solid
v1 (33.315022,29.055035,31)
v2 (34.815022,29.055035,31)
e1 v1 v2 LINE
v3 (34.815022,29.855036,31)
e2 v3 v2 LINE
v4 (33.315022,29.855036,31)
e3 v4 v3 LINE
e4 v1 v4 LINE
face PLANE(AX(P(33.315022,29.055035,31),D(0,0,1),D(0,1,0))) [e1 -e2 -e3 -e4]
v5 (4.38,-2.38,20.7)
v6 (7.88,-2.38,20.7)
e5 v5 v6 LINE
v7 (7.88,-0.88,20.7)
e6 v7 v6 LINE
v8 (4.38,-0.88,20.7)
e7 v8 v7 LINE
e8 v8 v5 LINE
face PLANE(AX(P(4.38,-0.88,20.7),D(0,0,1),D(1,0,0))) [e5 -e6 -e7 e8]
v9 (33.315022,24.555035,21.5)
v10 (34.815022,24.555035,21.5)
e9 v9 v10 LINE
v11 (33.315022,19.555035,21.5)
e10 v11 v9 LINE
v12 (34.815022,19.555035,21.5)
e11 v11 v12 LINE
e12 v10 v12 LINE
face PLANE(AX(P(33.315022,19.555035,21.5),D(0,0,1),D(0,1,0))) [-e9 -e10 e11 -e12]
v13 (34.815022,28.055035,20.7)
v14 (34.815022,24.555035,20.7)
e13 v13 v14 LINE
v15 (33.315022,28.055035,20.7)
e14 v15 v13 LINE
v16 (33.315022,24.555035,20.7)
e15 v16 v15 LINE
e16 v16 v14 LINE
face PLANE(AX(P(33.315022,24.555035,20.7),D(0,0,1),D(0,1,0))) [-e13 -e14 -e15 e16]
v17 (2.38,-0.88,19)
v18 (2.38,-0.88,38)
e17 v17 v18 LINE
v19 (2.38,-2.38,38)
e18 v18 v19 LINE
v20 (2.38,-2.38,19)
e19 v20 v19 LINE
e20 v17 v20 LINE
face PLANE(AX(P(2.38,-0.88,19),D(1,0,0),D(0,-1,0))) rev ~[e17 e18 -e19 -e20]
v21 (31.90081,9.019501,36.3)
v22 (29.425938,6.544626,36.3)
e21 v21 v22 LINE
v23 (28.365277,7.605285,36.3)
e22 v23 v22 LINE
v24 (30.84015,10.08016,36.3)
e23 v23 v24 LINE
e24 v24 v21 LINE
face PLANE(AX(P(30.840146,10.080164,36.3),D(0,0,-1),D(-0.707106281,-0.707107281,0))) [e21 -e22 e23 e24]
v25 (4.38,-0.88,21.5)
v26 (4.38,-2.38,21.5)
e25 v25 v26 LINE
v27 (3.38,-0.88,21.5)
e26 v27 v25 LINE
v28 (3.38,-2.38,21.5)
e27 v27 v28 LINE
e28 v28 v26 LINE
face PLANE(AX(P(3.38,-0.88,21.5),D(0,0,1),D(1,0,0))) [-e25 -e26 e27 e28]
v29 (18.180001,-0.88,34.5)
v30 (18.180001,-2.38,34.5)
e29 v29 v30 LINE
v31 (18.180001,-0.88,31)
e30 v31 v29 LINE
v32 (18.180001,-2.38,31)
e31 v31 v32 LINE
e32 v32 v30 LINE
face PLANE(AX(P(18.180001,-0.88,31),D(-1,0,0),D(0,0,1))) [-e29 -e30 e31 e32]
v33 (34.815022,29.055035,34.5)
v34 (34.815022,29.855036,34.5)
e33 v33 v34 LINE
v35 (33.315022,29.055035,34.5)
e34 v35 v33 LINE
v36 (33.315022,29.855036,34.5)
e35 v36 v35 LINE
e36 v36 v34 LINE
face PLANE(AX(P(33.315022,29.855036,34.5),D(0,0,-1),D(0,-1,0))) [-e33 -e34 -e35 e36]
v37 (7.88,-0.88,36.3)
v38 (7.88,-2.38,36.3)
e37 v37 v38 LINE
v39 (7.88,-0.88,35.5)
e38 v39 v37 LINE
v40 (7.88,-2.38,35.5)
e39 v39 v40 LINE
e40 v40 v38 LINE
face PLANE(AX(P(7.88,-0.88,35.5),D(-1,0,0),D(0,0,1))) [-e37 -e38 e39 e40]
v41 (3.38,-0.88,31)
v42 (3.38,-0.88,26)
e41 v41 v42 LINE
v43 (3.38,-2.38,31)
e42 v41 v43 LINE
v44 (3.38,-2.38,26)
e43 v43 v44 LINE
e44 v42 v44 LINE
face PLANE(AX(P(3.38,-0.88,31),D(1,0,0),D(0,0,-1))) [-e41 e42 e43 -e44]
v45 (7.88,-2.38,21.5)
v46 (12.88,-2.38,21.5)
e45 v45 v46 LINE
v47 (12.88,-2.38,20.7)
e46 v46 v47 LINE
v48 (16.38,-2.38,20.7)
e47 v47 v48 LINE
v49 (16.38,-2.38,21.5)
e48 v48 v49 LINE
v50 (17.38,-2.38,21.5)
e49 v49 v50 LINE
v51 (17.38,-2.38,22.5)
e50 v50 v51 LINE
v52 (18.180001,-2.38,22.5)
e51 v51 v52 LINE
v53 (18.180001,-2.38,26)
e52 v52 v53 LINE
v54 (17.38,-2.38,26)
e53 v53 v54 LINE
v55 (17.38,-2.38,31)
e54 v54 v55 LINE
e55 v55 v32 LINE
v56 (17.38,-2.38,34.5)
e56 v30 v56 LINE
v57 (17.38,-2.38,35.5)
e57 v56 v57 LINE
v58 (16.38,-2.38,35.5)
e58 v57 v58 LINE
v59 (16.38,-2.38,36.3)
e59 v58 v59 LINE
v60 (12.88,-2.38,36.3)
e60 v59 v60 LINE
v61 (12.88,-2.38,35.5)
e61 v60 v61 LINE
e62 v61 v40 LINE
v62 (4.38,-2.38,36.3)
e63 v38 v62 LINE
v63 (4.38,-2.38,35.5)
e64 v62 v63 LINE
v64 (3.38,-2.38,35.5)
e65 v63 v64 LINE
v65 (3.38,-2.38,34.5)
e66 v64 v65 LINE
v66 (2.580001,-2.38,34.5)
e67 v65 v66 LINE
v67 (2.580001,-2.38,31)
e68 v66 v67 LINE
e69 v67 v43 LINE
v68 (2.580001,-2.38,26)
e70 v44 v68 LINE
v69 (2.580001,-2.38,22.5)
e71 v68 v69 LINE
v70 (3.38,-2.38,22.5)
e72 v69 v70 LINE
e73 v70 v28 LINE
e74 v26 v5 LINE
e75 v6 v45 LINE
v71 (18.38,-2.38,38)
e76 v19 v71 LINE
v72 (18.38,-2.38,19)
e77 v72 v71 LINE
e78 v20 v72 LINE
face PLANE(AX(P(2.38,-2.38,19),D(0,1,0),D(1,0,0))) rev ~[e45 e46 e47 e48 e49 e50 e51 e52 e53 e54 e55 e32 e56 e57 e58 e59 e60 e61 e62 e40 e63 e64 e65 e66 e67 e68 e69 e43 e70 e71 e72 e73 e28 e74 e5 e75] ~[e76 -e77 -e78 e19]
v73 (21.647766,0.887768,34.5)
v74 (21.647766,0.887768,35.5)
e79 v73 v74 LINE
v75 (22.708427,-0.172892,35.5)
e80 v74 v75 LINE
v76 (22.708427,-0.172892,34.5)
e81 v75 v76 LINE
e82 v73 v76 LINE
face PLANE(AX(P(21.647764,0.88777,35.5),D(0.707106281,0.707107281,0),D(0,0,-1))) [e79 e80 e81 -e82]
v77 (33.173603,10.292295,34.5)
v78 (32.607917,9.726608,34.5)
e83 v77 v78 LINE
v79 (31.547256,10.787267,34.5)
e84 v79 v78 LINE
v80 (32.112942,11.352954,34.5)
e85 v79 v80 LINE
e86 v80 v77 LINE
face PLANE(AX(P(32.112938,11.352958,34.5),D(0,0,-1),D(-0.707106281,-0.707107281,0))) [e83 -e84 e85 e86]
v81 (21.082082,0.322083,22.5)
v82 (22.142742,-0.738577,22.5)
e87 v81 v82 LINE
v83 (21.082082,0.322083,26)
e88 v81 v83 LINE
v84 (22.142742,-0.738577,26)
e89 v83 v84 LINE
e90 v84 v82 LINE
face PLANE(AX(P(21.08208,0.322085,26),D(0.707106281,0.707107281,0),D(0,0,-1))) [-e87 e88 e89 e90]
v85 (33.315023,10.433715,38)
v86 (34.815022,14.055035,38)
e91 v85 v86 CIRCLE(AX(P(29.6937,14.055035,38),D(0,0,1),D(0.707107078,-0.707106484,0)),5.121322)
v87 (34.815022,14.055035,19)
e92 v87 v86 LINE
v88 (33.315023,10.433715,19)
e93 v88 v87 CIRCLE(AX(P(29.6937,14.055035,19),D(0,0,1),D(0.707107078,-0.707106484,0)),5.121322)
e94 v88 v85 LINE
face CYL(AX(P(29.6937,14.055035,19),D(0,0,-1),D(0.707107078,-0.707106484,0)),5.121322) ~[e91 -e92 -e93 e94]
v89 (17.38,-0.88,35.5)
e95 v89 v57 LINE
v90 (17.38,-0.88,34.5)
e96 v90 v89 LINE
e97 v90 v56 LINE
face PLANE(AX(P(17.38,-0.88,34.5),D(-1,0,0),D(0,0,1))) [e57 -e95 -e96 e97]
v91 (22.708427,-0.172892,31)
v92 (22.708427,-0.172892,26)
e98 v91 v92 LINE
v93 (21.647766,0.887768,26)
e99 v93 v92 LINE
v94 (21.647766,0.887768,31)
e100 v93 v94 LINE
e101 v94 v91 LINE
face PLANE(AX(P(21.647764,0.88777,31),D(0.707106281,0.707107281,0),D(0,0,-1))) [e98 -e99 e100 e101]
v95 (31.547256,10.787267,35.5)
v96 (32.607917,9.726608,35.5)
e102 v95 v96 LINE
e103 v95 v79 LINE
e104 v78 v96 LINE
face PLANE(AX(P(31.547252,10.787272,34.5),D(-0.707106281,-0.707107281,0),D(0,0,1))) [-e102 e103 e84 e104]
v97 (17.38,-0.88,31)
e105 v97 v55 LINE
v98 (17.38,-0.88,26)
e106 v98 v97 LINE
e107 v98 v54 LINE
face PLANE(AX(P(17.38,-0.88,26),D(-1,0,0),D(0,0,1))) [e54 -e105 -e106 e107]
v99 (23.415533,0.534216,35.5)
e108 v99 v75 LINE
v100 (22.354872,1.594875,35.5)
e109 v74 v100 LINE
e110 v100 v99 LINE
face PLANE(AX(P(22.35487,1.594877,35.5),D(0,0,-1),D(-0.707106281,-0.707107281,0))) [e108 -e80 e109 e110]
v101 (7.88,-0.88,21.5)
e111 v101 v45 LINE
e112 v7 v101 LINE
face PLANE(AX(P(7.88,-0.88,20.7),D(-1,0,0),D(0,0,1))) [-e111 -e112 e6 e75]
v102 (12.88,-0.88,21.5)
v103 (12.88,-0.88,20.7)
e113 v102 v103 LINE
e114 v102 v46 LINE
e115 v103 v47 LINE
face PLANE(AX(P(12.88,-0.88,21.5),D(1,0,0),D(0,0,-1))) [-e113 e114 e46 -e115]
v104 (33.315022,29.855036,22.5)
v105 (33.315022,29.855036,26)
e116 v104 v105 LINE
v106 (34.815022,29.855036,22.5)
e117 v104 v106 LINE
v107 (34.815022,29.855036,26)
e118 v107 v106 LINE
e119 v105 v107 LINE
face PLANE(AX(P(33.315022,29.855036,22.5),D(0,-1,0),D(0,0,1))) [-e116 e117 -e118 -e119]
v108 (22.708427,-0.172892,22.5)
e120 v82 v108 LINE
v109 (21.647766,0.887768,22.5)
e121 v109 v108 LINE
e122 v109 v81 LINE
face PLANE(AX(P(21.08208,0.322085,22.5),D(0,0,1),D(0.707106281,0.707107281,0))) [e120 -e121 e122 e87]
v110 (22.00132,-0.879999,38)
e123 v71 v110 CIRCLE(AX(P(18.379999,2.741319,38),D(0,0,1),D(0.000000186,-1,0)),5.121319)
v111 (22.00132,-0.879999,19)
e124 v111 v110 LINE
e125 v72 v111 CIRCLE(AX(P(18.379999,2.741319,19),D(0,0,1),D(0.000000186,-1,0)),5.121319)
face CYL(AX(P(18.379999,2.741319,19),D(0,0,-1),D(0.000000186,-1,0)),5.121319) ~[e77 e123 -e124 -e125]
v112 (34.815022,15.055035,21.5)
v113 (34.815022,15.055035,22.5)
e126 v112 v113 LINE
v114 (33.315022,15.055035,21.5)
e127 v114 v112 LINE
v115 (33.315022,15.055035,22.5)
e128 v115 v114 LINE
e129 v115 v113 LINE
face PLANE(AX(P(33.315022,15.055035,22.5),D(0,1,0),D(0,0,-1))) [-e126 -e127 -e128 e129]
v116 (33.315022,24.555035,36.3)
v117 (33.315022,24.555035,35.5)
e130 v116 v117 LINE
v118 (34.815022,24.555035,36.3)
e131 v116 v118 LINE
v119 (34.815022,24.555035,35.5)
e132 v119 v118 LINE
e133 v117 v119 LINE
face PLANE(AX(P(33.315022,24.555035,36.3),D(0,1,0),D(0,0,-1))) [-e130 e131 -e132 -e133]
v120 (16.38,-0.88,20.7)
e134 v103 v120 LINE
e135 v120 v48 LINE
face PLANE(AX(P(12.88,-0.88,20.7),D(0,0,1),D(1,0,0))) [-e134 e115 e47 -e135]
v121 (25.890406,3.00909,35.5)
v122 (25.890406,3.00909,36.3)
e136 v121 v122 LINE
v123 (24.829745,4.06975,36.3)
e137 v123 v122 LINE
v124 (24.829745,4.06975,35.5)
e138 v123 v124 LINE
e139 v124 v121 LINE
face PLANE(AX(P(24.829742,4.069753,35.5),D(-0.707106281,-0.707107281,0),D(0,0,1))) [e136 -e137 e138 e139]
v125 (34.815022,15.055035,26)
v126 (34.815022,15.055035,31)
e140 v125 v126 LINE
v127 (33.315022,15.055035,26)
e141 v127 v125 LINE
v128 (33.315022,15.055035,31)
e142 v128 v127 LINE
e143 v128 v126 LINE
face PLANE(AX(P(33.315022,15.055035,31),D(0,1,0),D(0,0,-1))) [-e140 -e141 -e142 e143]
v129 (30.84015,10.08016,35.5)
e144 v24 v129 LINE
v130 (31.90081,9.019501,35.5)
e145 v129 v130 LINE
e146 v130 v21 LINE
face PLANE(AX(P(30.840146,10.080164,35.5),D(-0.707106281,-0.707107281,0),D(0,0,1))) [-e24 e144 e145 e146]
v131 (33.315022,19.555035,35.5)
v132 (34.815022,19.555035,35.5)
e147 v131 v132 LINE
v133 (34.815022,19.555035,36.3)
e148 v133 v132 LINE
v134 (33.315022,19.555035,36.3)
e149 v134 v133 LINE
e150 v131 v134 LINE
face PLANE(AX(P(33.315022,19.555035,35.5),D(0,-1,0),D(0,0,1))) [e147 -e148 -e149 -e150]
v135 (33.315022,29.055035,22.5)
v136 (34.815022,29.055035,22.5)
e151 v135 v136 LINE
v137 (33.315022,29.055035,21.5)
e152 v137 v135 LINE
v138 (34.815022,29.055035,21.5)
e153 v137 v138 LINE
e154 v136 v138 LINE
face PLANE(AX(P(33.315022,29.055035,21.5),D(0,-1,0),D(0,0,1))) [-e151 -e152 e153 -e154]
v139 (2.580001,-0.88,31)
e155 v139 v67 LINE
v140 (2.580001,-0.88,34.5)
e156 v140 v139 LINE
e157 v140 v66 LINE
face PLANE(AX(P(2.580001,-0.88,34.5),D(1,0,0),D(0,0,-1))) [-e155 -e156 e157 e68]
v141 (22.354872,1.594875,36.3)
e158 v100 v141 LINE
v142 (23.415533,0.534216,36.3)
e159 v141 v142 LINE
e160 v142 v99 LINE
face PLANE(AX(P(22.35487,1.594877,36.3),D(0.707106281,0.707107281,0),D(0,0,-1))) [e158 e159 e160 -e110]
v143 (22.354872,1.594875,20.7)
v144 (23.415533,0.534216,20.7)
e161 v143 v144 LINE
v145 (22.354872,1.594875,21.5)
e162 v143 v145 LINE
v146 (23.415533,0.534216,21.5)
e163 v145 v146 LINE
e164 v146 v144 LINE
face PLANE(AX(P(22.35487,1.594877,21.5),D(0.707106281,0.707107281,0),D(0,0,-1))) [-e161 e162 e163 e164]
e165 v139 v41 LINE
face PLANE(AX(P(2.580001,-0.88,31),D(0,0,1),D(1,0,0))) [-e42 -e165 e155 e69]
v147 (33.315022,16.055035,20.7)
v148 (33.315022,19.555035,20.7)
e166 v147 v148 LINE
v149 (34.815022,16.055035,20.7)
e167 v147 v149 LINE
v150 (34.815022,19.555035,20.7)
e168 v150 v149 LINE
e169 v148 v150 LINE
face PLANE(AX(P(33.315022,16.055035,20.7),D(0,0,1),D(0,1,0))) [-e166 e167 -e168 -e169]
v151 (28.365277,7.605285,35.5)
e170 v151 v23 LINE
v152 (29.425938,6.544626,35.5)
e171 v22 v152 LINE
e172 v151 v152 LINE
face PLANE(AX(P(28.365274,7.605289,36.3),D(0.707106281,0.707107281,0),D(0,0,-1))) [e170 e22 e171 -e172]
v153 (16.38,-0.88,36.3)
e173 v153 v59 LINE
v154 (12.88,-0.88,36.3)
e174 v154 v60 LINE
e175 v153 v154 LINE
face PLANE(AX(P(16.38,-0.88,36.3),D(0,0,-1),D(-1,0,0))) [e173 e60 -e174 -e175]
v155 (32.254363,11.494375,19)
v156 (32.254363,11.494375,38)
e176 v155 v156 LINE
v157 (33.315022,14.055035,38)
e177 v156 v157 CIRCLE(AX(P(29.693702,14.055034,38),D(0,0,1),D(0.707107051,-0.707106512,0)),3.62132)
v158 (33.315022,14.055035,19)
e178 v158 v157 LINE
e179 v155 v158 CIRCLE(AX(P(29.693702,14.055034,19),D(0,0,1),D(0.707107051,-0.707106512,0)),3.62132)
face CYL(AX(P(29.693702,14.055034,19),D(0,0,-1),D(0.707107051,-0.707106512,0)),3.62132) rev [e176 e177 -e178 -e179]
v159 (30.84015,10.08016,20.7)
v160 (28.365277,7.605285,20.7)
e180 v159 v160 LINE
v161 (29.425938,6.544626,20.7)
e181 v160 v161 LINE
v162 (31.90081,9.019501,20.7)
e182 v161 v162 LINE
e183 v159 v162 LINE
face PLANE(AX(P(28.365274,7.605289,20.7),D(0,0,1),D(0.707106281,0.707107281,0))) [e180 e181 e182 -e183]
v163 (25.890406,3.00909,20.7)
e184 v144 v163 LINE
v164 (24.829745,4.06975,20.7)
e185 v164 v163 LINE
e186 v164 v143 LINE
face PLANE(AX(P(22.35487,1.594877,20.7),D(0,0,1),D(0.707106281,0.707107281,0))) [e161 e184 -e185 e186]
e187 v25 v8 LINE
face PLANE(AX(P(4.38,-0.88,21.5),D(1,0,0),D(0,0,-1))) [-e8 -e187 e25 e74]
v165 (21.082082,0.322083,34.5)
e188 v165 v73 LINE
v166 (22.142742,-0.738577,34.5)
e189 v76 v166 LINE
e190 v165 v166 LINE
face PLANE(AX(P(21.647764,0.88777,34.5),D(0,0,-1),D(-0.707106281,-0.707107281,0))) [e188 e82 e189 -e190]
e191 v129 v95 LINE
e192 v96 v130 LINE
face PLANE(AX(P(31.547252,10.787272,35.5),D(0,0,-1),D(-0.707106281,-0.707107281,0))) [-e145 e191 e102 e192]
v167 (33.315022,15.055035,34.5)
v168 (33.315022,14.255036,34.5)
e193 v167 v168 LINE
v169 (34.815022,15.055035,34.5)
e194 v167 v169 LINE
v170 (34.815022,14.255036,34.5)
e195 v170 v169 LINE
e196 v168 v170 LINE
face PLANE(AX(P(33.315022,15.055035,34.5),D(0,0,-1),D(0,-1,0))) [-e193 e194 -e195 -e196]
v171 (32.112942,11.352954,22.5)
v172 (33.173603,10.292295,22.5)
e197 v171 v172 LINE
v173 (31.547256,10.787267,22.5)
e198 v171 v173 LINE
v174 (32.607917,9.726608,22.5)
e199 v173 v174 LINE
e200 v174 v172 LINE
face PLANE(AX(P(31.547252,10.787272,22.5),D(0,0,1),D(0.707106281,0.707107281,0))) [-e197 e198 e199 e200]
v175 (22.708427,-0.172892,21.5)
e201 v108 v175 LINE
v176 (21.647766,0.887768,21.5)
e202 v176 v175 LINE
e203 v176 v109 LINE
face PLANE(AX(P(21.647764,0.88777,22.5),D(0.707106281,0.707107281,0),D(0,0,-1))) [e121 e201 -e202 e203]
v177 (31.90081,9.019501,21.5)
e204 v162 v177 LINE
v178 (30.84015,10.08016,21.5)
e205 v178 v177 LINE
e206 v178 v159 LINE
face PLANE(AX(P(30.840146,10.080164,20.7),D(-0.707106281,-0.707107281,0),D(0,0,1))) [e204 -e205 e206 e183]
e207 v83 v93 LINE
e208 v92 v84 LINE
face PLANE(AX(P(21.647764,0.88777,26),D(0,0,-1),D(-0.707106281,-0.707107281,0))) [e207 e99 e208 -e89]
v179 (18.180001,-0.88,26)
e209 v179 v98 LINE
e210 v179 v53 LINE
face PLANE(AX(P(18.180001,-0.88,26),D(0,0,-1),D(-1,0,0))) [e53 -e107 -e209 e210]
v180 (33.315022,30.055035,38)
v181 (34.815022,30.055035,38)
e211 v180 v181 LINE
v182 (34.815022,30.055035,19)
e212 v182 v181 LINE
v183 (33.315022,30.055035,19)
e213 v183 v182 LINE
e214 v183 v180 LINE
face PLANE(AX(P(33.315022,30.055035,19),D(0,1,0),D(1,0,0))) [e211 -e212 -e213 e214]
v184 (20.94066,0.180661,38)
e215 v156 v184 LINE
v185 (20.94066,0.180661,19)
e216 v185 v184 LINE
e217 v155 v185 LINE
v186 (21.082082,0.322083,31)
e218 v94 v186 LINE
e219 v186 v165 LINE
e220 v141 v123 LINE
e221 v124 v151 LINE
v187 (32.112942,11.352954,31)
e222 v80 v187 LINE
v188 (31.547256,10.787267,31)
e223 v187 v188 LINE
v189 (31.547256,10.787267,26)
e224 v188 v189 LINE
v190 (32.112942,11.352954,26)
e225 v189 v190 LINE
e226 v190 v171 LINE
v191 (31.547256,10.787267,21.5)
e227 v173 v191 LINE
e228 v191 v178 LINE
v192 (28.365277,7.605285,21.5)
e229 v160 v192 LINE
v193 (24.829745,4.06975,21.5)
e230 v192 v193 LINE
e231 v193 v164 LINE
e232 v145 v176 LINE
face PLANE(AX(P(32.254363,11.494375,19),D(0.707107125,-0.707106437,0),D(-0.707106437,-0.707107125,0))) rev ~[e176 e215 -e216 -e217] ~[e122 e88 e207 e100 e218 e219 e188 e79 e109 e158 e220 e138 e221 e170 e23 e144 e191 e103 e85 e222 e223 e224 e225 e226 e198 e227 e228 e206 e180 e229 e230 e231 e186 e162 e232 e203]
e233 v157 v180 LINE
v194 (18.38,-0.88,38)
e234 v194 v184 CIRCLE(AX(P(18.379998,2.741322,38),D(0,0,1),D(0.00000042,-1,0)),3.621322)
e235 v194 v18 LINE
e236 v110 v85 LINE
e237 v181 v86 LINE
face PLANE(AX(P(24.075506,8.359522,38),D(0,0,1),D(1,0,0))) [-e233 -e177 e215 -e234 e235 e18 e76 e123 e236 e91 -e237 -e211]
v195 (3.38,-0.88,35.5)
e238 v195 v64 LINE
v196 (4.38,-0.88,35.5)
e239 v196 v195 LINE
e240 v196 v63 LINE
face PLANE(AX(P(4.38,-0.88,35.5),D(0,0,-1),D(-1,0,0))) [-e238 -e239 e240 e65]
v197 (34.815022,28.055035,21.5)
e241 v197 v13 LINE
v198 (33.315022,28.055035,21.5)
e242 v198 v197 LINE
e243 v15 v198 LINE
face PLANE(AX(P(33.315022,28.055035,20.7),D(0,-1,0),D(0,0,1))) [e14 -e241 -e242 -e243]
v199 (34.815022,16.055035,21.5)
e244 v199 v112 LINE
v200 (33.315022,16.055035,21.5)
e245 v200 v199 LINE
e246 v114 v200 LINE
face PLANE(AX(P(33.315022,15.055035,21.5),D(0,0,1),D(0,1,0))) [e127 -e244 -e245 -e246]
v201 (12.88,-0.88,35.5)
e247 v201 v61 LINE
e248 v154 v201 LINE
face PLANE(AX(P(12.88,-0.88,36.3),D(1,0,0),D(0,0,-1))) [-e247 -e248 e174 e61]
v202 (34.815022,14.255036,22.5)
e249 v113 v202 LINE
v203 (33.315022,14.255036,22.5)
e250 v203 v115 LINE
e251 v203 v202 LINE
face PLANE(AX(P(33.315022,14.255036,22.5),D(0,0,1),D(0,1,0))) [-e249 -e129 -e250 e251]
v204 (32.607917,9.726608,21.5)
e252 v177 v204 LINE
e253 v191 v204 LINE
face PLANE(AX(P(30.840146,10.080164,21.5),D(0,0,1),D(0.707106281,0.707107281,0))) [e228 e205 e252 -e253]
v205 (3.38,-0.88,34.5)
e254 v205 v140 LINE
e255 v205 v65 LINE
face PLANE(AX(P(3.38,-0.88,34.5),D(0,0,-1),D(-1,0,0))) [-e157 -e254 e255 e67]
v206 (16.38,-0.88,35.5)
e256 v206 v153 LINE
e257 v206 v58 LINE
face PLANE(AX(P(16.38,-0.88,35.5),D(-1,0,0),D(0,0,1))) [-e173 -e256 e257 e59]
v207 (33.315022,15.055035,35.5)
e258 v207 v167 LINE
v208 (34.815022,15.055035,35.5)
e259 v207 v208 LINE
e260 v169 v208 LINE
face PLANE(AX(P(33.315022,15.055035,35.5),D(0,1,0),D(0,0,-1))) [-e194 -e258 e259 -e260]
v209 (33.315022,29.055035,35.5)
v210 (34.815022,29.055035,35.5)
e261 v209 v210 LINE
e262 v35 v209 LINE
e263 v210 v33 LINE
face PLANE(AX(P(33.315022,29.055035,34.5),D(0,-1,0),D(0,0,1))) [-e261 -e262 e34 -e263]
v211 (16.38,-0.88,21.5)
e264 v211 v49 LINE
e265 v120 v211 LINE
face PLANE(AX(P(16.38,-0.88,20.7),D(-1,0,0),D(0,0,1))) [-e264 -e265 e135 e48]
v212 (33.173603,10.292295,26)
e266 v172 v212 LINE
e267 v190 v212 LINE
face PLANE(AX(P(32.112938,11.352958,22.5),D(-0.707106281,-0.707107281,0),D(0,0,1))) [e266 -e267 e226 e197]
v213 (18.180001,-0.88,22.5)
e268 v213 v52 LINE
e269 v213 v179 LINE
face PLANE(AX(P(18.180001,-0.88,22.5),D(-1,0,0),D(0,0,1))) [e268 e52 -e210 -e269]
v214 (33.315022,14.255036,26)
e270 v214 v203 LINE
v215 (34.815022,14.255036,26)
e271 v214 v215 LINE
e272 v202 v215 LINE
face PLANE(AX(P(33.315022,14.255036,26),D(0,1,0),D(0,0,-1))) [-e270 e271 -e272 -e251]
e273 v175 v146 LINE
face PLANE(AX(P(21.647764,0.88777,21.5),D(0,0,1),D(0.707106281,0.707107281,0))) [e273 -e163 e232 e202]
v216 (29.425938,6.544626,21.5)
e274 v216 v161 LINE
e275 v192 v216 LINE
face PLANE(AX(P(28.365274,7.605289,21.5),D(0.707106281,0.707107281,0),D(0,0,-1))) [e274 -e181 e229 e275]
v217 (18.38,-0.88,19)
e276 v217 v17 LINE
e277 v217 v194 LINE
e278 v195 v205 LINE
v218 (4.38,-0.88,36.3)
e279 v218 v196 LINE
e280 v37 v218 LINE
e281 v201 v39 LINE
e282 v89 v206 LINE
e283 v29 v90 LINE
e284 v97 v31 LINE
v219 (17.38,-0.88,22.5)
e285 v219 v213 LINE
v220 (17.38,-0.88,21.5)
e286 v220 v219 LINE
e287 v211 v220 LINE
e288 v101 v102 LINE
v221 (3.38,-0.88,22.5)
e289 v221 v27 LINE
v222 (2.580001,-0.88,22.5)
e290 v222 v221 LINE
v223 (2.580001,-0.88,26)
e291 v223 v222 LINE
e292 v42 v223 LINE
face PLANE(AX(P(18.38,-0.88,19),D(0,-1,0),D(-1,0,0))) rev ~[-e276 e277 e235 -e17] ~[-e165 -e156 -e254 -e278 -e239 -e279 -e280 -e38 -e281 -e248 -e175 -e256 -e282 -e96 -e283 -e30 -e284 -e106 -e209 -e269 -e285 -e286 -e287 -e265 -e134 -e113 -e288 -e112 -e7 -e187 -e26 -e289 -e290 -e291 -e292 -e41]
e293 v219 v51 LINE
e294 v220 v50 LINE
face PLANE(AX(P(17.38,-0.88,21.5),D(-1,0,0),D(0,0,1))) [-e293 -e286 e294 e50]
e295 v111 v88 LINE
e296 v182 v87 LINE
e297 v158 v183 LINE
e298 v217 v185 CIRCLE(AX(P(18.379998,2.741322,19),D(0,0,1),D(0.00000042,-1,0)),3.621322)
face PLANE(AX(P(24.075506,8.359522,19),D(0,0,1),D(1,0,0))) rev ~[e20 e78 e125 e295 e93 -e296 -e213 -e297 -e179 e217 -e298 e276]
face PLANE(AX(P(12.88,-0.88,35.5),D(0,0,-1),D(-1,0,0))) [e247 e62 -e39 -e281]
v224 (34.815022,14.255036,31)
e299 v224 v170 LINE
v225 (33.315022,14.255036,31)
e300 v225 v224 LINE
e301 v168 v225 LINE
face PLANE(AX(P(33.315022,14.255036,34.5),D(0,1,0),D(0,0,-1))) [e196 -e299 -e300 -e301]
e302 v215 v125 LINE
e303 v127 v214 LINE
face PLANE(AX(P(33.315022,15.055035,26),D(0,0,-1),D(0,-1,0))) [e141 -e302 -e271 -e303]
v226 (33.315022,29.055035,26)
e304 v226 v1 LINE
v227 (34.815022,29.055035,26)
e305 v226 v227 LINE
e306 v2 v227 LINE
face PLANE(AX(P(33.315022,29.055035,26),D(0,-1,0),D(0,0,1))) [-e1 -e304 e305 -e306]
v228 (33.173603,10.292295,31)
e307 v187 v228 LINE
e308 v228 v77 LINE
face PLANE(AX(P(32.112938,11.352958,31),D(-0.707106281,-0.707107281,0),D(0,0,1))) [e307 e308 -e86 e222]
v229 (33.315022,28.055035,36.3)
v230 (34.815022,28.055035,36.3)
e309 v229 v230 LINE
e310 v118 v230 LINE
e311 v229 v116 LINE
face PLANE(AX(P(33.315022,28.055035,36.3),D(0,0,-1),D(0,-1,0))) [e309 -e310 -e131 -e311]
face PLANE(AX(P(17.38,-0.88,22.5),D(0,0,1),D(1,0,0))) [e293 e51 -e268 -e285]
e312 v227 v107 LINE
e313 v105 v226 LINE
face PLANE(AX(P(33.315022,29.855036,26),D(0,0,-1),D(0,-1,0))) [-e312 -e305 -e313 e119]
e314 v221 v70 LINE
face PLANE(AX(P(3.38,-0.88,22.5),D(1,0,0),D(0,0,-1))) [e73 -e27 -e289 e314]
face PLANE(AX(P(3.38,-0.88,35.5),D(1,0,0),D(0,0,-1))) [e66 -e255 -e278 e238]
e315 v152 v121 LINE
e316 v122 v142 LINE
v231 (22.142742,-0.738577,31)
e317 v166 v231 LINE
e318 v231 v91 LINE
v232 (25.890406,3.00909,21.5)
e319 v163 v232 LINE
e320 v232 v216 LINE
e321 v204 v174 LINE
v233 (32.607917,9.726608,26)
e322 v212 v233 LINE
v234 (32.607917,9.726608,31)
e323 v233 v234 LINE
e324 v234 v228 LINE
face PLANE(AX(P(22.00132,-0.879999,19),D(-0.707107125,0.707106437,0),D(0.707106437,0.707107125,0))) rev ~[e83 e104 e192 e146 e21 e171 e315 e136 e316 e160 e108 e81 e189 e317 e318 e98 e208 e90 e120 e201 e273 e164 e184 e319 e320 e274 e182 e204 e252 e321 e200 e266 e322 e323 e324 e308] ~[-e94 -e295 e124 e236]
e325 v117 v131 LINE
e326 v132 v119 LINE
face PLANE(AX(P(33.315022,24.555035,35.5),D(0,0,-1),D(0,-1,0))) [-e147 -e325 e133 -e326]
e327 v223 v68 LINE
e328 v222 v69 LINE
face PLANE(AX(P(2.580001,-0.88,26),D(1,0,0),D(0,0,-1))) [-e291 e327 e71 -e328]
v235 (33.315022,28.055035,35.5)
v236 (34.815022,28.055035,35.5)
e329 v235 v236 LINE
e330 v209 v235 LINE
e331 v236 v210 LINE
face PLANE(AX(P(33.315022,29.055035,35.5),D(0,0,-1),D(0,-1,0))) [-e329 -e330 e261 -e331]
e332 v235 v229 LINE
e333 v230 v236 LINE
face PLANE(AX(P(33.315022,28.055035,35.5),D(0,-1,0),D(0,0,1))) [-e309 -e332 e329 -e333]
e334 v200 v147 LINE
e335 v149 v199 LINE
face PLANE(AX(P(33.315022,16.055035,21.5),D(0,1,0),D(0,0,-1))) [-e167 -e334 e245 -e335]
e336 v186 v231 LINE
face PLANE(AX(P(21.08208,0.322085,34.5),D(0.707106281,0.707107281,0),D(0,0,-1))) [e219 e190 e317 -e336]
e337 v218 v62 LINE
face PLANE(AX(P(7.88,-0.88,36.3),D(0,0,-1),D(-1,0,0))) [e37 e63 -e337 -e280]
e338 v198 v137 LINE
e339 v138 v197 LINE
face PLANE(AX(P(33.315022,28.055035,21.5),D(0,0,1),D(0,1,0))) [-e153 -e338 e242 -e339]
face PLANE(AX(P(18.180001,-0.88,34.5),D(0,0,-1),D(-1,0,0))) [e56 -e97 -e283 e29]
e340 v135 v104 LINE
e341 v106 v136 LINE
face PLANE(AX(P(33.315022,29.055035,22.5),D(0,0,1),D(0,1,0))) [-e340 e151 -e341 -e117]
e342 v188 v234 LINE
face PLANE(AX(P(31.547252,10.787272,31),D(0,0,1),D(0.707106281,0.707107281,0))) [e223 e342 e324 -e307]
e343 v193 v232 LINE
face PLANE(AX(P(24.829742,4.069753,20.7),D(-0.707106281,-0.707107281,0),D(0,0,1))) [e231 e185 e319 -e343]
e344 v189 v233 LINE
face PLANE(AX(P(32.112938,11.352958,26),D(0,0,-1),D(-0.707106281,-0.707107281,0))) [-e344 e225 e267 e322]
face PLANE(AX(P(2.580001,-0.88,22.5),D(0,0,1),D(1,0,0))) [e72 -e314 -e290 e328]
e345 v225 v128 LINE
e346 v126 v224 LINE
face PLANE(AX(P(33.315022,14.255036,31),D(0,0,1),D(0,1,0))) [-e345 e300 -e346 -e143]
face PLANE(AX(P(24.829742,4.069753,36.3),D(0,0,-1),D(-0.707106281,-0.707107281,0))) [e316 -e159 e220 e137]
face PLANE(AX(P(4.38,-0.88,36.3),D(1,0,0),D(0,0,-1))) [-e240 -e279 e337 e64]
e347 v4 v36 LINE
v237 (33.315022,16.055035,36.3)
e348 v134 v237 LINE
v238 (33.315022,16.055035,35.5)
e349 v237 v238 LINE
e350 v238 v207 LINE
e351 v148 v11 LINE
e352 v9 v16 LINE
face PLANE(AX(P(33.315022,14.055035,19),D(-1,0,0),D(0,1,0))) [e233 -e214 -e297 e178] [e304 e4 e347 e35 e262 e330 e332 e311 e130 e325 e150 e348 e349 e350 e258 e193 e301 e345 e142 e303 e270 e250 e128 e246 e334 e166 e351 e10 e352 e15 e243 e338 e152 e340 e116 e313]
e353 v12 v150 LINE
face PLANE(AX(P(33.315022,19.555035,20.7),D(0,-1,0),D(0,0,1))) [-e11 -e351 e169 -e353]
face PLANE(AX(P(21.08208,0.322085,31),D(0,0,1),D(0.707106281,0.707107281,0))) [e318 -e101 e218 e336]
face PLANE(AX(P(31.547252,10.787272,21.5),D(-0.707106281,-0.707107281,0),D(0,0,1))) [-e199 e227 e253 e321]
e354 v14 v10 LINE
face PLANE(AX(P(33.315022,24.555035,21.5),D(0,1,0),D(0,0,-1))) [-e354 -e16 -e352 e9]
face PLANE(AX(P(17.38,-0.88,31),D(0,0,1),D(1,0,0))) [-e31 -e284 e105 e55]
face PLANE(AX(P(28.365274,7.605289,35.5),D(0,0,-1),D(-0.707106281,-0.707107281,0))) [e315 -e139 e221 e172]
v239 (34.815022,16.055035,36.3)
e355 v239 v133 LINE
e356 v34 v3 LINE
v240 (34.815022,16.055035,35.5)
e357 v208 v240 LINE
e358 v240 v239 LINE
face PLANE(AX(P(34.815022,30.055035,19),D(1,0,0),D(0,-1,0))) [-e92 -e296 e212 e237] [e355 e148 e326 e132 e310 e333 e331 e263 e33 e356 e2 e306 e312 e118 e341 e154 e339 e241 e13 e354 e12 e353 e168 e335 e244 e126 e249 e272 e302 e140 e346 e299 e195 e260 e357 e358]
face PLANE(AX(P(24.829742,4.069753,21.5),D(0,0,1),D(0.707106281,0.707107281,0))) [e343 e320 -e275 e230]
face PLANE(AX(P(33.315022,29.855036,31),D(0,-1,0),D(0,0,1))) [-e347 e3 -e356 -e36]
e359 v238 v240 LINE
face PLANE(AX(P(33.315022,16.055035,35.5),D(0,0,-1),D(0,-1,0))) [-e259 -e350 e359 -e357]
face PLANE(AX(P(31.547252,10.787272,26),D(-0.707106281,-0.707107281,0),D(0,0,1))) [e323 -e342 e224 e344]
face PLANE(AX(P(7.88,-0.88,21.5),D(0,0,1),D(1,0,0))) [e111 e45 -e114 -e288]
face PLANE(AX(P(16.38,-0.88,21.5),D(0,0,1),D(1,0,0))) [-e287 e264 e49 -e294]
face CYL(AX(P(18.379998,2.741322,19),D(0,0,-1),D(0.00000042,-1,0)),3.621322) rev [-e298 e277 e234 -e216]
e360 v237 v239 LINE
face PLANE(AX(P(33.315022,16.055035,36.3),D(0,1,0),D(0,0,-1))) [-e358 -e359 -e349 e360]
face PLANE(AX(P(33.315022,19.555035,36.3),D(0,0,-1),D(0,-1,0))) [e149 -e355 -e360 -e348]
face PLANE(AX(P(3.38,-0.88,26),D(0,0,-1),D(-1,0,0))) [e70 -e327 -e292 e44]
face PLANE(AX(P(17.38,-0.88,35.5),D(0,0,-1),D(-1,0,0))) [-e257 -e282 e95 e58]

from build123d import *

# Parameters (mm, degrees)
PAD_DEPTH       = 19
POCKET_DEPTH    = 11.62232
POCKET002_DEPTH = 1.501
POCKET003_DEPTH = 1.501


with BuildPart() as part:
    # Sketch → Pad (new body)
    with BuildSketch(Plane.XY):
        with BuildLine():
            Line((0, 0), (16, 0))
            ThreePointArc((16, 0), (17.959845, 0.389838), (19.62132, 1.500001))
            Line((19.62132, 1.500001), (30.935023, 12.813715))
            ThreePointArc((30.935023, 12.813715), (32.045185, 14.475191), (32.435022, 16.435035))
            Line((32.435022, 32.435035), (32.435022, 16.435035))
            Line((30.935022, 32.435035), (32.435022, 32.435035))
            Line((30.935022, 16.435035), (30.935022, 32.435035))
            ThreePointArc((29.874363, 13.874375), (30.659366, 15.049216), (30.935022, 16.435035))
            Line((29.874363, 13.874375), (18.56066, 2.560661))
            ThreePointArc((16, 1.5), (17.385819, 1.775657), (18.56066, 2.560661))
            Line((16, 1.5), (0, 1.5))
            Line((0, 1.5), (0, 0))
        make_face()
    extrude(amount=PAD_DEPTH)

    # Sketch004 → Pocket (cut, through all)
    with BuildSketch(Plane(origin=(8.000009, -8.000001, 0), x_dir=(-0.707106, -0.707107, 0), z_dir=(-0.707107, 0.707106, 0))):
        Polygon((-28.935023, 17.3), (-25.435023, 17.3), (-25.435023, 16.5), (-20.435023, 16.5), (-20.435023, 17.3), (-16.935023, 17.3), (-16.935023, 16.5), (-15.935023, 16.5), (-15.935023, 15.5), (-15.135024, 15.5), (-15.135024, 12), (-15.935023, 12), (-15.935023, 7), (-15.135024, 7), (-15.135024, 3.5), (-15.935023, 3.5), (-15.935023, 2.5), (-16.935023, 2.5), (-16.935023, 1.7), (-20.435023, 1.7), (-20.435023, 2.5), (-25.435023, 2.5), (-25.435023, 1.7), (-28.935023, 1.7), (-28.935023, 2.5), (-29.935023, 2.5), (-29.935023, 3.5), (-30.735024, 3.5), (-30.735024, 7), (-29.935023, 7), (-29.935023, 12), (-30.735024, 12), (-30.735024, 15.5), (-29.935023, 15.5), (-29.935023, 16.5), (-28.935023, 16.5), align=None)
    extrude(amount=-POCKET_DEPTH, mode=Mode.SUBTRACT)

    # Sketch004001 → Pocket002 (cut, through all)
    with BuildSketch(Plane(origin=(30.935022, 0, 0), x_dir=(0, -1, 0), z_dir=(-1, 0, 0))):
        Polygon((-30.435035, 17.3), (-26.935035, 17.3), (-26.935035, 16.5), (-21.935035, 16.5), (-21.935035, 17.3), (-18.435035, 17.3), (-18.435035, 16.5), (-17.435035, 16.5), (-17.435035, 15.5), (-16.635036, 15.5), (-16.635036, 12), (-17.435035, 12), (-17.435035, 7), (-16.635036, 7), (-16.635036, 3.5), (-17.435035, 3.5), (-17.435035, 2.5), (-18.435035, 2.5), (-18.435035, 1.7), (-21.935035, 1.7), (-21.935035, 2.5), (-26.935035, 2.5), (-26.935035, 1.7), (-30.435035, 1.7), (-30.435035, 2.5), (-31.435035, 2.5), (-31.435035, 3.5), (-32.235036, 3.5), (-32.235036, 7), (-31.435035, 7), (-31.435035, 12), (-32.235036, 12), (-32.235036, 15.5), (-31.435035, 15.5), (-31.435035, 16.5), (-30.435035, 16.5), align=None)
    extrude(amount=-POCKET002_DEPTH, mode=Mode.SUBTRACT)

    # Sketch004001001 → Pocket003 (cut, through all)
    with BuildSketch(Plane(origin=(0, 1.5, 0), x_dir=(-1, 0, 0), z_dir=(0, 1, 0))):
        Polygon((-14, 17.3), (-10.5, 17.3), (-10.5, 16.5), (-5.5, 16.5), (-5.5, 17.3), (-2, 17.3), (-2, 16.5), (-1, 16.5), (-1, 15.5), (-0.200001, 15.5), (-0.200001, 12), (-1, 12), (-1, 7), (-0.200001, 7), (-0.200001, 3.5), (-1, 3.5), (-1, 2.5), (-2, 2.5), (-2, 1.7), (-5.5, 1.7), (-5.5, 2.5), (-10.5, 2.5), (-10.5, 1.7), (-14, 1.7), (-14, 2.5), (-15, 2.5), (-15, 3.5), (-15.800001, 3.5), (-15.800001, 7), (-15, 7), (-15, 12), (-15.800001, 12), (-15.800001, 15.5), (-15, 15.5), (-15, 16.5), (-14, 16.5), align=None)
    extrude(amount=-POCKET003_DEPTH, mode=Mode.SUBTRACT)


with BuildPart() as part_1:
    # Clone placement: moved
    add(part.part.moved(Location((2.38, -2.38, 19))))


solid = part_1.part
